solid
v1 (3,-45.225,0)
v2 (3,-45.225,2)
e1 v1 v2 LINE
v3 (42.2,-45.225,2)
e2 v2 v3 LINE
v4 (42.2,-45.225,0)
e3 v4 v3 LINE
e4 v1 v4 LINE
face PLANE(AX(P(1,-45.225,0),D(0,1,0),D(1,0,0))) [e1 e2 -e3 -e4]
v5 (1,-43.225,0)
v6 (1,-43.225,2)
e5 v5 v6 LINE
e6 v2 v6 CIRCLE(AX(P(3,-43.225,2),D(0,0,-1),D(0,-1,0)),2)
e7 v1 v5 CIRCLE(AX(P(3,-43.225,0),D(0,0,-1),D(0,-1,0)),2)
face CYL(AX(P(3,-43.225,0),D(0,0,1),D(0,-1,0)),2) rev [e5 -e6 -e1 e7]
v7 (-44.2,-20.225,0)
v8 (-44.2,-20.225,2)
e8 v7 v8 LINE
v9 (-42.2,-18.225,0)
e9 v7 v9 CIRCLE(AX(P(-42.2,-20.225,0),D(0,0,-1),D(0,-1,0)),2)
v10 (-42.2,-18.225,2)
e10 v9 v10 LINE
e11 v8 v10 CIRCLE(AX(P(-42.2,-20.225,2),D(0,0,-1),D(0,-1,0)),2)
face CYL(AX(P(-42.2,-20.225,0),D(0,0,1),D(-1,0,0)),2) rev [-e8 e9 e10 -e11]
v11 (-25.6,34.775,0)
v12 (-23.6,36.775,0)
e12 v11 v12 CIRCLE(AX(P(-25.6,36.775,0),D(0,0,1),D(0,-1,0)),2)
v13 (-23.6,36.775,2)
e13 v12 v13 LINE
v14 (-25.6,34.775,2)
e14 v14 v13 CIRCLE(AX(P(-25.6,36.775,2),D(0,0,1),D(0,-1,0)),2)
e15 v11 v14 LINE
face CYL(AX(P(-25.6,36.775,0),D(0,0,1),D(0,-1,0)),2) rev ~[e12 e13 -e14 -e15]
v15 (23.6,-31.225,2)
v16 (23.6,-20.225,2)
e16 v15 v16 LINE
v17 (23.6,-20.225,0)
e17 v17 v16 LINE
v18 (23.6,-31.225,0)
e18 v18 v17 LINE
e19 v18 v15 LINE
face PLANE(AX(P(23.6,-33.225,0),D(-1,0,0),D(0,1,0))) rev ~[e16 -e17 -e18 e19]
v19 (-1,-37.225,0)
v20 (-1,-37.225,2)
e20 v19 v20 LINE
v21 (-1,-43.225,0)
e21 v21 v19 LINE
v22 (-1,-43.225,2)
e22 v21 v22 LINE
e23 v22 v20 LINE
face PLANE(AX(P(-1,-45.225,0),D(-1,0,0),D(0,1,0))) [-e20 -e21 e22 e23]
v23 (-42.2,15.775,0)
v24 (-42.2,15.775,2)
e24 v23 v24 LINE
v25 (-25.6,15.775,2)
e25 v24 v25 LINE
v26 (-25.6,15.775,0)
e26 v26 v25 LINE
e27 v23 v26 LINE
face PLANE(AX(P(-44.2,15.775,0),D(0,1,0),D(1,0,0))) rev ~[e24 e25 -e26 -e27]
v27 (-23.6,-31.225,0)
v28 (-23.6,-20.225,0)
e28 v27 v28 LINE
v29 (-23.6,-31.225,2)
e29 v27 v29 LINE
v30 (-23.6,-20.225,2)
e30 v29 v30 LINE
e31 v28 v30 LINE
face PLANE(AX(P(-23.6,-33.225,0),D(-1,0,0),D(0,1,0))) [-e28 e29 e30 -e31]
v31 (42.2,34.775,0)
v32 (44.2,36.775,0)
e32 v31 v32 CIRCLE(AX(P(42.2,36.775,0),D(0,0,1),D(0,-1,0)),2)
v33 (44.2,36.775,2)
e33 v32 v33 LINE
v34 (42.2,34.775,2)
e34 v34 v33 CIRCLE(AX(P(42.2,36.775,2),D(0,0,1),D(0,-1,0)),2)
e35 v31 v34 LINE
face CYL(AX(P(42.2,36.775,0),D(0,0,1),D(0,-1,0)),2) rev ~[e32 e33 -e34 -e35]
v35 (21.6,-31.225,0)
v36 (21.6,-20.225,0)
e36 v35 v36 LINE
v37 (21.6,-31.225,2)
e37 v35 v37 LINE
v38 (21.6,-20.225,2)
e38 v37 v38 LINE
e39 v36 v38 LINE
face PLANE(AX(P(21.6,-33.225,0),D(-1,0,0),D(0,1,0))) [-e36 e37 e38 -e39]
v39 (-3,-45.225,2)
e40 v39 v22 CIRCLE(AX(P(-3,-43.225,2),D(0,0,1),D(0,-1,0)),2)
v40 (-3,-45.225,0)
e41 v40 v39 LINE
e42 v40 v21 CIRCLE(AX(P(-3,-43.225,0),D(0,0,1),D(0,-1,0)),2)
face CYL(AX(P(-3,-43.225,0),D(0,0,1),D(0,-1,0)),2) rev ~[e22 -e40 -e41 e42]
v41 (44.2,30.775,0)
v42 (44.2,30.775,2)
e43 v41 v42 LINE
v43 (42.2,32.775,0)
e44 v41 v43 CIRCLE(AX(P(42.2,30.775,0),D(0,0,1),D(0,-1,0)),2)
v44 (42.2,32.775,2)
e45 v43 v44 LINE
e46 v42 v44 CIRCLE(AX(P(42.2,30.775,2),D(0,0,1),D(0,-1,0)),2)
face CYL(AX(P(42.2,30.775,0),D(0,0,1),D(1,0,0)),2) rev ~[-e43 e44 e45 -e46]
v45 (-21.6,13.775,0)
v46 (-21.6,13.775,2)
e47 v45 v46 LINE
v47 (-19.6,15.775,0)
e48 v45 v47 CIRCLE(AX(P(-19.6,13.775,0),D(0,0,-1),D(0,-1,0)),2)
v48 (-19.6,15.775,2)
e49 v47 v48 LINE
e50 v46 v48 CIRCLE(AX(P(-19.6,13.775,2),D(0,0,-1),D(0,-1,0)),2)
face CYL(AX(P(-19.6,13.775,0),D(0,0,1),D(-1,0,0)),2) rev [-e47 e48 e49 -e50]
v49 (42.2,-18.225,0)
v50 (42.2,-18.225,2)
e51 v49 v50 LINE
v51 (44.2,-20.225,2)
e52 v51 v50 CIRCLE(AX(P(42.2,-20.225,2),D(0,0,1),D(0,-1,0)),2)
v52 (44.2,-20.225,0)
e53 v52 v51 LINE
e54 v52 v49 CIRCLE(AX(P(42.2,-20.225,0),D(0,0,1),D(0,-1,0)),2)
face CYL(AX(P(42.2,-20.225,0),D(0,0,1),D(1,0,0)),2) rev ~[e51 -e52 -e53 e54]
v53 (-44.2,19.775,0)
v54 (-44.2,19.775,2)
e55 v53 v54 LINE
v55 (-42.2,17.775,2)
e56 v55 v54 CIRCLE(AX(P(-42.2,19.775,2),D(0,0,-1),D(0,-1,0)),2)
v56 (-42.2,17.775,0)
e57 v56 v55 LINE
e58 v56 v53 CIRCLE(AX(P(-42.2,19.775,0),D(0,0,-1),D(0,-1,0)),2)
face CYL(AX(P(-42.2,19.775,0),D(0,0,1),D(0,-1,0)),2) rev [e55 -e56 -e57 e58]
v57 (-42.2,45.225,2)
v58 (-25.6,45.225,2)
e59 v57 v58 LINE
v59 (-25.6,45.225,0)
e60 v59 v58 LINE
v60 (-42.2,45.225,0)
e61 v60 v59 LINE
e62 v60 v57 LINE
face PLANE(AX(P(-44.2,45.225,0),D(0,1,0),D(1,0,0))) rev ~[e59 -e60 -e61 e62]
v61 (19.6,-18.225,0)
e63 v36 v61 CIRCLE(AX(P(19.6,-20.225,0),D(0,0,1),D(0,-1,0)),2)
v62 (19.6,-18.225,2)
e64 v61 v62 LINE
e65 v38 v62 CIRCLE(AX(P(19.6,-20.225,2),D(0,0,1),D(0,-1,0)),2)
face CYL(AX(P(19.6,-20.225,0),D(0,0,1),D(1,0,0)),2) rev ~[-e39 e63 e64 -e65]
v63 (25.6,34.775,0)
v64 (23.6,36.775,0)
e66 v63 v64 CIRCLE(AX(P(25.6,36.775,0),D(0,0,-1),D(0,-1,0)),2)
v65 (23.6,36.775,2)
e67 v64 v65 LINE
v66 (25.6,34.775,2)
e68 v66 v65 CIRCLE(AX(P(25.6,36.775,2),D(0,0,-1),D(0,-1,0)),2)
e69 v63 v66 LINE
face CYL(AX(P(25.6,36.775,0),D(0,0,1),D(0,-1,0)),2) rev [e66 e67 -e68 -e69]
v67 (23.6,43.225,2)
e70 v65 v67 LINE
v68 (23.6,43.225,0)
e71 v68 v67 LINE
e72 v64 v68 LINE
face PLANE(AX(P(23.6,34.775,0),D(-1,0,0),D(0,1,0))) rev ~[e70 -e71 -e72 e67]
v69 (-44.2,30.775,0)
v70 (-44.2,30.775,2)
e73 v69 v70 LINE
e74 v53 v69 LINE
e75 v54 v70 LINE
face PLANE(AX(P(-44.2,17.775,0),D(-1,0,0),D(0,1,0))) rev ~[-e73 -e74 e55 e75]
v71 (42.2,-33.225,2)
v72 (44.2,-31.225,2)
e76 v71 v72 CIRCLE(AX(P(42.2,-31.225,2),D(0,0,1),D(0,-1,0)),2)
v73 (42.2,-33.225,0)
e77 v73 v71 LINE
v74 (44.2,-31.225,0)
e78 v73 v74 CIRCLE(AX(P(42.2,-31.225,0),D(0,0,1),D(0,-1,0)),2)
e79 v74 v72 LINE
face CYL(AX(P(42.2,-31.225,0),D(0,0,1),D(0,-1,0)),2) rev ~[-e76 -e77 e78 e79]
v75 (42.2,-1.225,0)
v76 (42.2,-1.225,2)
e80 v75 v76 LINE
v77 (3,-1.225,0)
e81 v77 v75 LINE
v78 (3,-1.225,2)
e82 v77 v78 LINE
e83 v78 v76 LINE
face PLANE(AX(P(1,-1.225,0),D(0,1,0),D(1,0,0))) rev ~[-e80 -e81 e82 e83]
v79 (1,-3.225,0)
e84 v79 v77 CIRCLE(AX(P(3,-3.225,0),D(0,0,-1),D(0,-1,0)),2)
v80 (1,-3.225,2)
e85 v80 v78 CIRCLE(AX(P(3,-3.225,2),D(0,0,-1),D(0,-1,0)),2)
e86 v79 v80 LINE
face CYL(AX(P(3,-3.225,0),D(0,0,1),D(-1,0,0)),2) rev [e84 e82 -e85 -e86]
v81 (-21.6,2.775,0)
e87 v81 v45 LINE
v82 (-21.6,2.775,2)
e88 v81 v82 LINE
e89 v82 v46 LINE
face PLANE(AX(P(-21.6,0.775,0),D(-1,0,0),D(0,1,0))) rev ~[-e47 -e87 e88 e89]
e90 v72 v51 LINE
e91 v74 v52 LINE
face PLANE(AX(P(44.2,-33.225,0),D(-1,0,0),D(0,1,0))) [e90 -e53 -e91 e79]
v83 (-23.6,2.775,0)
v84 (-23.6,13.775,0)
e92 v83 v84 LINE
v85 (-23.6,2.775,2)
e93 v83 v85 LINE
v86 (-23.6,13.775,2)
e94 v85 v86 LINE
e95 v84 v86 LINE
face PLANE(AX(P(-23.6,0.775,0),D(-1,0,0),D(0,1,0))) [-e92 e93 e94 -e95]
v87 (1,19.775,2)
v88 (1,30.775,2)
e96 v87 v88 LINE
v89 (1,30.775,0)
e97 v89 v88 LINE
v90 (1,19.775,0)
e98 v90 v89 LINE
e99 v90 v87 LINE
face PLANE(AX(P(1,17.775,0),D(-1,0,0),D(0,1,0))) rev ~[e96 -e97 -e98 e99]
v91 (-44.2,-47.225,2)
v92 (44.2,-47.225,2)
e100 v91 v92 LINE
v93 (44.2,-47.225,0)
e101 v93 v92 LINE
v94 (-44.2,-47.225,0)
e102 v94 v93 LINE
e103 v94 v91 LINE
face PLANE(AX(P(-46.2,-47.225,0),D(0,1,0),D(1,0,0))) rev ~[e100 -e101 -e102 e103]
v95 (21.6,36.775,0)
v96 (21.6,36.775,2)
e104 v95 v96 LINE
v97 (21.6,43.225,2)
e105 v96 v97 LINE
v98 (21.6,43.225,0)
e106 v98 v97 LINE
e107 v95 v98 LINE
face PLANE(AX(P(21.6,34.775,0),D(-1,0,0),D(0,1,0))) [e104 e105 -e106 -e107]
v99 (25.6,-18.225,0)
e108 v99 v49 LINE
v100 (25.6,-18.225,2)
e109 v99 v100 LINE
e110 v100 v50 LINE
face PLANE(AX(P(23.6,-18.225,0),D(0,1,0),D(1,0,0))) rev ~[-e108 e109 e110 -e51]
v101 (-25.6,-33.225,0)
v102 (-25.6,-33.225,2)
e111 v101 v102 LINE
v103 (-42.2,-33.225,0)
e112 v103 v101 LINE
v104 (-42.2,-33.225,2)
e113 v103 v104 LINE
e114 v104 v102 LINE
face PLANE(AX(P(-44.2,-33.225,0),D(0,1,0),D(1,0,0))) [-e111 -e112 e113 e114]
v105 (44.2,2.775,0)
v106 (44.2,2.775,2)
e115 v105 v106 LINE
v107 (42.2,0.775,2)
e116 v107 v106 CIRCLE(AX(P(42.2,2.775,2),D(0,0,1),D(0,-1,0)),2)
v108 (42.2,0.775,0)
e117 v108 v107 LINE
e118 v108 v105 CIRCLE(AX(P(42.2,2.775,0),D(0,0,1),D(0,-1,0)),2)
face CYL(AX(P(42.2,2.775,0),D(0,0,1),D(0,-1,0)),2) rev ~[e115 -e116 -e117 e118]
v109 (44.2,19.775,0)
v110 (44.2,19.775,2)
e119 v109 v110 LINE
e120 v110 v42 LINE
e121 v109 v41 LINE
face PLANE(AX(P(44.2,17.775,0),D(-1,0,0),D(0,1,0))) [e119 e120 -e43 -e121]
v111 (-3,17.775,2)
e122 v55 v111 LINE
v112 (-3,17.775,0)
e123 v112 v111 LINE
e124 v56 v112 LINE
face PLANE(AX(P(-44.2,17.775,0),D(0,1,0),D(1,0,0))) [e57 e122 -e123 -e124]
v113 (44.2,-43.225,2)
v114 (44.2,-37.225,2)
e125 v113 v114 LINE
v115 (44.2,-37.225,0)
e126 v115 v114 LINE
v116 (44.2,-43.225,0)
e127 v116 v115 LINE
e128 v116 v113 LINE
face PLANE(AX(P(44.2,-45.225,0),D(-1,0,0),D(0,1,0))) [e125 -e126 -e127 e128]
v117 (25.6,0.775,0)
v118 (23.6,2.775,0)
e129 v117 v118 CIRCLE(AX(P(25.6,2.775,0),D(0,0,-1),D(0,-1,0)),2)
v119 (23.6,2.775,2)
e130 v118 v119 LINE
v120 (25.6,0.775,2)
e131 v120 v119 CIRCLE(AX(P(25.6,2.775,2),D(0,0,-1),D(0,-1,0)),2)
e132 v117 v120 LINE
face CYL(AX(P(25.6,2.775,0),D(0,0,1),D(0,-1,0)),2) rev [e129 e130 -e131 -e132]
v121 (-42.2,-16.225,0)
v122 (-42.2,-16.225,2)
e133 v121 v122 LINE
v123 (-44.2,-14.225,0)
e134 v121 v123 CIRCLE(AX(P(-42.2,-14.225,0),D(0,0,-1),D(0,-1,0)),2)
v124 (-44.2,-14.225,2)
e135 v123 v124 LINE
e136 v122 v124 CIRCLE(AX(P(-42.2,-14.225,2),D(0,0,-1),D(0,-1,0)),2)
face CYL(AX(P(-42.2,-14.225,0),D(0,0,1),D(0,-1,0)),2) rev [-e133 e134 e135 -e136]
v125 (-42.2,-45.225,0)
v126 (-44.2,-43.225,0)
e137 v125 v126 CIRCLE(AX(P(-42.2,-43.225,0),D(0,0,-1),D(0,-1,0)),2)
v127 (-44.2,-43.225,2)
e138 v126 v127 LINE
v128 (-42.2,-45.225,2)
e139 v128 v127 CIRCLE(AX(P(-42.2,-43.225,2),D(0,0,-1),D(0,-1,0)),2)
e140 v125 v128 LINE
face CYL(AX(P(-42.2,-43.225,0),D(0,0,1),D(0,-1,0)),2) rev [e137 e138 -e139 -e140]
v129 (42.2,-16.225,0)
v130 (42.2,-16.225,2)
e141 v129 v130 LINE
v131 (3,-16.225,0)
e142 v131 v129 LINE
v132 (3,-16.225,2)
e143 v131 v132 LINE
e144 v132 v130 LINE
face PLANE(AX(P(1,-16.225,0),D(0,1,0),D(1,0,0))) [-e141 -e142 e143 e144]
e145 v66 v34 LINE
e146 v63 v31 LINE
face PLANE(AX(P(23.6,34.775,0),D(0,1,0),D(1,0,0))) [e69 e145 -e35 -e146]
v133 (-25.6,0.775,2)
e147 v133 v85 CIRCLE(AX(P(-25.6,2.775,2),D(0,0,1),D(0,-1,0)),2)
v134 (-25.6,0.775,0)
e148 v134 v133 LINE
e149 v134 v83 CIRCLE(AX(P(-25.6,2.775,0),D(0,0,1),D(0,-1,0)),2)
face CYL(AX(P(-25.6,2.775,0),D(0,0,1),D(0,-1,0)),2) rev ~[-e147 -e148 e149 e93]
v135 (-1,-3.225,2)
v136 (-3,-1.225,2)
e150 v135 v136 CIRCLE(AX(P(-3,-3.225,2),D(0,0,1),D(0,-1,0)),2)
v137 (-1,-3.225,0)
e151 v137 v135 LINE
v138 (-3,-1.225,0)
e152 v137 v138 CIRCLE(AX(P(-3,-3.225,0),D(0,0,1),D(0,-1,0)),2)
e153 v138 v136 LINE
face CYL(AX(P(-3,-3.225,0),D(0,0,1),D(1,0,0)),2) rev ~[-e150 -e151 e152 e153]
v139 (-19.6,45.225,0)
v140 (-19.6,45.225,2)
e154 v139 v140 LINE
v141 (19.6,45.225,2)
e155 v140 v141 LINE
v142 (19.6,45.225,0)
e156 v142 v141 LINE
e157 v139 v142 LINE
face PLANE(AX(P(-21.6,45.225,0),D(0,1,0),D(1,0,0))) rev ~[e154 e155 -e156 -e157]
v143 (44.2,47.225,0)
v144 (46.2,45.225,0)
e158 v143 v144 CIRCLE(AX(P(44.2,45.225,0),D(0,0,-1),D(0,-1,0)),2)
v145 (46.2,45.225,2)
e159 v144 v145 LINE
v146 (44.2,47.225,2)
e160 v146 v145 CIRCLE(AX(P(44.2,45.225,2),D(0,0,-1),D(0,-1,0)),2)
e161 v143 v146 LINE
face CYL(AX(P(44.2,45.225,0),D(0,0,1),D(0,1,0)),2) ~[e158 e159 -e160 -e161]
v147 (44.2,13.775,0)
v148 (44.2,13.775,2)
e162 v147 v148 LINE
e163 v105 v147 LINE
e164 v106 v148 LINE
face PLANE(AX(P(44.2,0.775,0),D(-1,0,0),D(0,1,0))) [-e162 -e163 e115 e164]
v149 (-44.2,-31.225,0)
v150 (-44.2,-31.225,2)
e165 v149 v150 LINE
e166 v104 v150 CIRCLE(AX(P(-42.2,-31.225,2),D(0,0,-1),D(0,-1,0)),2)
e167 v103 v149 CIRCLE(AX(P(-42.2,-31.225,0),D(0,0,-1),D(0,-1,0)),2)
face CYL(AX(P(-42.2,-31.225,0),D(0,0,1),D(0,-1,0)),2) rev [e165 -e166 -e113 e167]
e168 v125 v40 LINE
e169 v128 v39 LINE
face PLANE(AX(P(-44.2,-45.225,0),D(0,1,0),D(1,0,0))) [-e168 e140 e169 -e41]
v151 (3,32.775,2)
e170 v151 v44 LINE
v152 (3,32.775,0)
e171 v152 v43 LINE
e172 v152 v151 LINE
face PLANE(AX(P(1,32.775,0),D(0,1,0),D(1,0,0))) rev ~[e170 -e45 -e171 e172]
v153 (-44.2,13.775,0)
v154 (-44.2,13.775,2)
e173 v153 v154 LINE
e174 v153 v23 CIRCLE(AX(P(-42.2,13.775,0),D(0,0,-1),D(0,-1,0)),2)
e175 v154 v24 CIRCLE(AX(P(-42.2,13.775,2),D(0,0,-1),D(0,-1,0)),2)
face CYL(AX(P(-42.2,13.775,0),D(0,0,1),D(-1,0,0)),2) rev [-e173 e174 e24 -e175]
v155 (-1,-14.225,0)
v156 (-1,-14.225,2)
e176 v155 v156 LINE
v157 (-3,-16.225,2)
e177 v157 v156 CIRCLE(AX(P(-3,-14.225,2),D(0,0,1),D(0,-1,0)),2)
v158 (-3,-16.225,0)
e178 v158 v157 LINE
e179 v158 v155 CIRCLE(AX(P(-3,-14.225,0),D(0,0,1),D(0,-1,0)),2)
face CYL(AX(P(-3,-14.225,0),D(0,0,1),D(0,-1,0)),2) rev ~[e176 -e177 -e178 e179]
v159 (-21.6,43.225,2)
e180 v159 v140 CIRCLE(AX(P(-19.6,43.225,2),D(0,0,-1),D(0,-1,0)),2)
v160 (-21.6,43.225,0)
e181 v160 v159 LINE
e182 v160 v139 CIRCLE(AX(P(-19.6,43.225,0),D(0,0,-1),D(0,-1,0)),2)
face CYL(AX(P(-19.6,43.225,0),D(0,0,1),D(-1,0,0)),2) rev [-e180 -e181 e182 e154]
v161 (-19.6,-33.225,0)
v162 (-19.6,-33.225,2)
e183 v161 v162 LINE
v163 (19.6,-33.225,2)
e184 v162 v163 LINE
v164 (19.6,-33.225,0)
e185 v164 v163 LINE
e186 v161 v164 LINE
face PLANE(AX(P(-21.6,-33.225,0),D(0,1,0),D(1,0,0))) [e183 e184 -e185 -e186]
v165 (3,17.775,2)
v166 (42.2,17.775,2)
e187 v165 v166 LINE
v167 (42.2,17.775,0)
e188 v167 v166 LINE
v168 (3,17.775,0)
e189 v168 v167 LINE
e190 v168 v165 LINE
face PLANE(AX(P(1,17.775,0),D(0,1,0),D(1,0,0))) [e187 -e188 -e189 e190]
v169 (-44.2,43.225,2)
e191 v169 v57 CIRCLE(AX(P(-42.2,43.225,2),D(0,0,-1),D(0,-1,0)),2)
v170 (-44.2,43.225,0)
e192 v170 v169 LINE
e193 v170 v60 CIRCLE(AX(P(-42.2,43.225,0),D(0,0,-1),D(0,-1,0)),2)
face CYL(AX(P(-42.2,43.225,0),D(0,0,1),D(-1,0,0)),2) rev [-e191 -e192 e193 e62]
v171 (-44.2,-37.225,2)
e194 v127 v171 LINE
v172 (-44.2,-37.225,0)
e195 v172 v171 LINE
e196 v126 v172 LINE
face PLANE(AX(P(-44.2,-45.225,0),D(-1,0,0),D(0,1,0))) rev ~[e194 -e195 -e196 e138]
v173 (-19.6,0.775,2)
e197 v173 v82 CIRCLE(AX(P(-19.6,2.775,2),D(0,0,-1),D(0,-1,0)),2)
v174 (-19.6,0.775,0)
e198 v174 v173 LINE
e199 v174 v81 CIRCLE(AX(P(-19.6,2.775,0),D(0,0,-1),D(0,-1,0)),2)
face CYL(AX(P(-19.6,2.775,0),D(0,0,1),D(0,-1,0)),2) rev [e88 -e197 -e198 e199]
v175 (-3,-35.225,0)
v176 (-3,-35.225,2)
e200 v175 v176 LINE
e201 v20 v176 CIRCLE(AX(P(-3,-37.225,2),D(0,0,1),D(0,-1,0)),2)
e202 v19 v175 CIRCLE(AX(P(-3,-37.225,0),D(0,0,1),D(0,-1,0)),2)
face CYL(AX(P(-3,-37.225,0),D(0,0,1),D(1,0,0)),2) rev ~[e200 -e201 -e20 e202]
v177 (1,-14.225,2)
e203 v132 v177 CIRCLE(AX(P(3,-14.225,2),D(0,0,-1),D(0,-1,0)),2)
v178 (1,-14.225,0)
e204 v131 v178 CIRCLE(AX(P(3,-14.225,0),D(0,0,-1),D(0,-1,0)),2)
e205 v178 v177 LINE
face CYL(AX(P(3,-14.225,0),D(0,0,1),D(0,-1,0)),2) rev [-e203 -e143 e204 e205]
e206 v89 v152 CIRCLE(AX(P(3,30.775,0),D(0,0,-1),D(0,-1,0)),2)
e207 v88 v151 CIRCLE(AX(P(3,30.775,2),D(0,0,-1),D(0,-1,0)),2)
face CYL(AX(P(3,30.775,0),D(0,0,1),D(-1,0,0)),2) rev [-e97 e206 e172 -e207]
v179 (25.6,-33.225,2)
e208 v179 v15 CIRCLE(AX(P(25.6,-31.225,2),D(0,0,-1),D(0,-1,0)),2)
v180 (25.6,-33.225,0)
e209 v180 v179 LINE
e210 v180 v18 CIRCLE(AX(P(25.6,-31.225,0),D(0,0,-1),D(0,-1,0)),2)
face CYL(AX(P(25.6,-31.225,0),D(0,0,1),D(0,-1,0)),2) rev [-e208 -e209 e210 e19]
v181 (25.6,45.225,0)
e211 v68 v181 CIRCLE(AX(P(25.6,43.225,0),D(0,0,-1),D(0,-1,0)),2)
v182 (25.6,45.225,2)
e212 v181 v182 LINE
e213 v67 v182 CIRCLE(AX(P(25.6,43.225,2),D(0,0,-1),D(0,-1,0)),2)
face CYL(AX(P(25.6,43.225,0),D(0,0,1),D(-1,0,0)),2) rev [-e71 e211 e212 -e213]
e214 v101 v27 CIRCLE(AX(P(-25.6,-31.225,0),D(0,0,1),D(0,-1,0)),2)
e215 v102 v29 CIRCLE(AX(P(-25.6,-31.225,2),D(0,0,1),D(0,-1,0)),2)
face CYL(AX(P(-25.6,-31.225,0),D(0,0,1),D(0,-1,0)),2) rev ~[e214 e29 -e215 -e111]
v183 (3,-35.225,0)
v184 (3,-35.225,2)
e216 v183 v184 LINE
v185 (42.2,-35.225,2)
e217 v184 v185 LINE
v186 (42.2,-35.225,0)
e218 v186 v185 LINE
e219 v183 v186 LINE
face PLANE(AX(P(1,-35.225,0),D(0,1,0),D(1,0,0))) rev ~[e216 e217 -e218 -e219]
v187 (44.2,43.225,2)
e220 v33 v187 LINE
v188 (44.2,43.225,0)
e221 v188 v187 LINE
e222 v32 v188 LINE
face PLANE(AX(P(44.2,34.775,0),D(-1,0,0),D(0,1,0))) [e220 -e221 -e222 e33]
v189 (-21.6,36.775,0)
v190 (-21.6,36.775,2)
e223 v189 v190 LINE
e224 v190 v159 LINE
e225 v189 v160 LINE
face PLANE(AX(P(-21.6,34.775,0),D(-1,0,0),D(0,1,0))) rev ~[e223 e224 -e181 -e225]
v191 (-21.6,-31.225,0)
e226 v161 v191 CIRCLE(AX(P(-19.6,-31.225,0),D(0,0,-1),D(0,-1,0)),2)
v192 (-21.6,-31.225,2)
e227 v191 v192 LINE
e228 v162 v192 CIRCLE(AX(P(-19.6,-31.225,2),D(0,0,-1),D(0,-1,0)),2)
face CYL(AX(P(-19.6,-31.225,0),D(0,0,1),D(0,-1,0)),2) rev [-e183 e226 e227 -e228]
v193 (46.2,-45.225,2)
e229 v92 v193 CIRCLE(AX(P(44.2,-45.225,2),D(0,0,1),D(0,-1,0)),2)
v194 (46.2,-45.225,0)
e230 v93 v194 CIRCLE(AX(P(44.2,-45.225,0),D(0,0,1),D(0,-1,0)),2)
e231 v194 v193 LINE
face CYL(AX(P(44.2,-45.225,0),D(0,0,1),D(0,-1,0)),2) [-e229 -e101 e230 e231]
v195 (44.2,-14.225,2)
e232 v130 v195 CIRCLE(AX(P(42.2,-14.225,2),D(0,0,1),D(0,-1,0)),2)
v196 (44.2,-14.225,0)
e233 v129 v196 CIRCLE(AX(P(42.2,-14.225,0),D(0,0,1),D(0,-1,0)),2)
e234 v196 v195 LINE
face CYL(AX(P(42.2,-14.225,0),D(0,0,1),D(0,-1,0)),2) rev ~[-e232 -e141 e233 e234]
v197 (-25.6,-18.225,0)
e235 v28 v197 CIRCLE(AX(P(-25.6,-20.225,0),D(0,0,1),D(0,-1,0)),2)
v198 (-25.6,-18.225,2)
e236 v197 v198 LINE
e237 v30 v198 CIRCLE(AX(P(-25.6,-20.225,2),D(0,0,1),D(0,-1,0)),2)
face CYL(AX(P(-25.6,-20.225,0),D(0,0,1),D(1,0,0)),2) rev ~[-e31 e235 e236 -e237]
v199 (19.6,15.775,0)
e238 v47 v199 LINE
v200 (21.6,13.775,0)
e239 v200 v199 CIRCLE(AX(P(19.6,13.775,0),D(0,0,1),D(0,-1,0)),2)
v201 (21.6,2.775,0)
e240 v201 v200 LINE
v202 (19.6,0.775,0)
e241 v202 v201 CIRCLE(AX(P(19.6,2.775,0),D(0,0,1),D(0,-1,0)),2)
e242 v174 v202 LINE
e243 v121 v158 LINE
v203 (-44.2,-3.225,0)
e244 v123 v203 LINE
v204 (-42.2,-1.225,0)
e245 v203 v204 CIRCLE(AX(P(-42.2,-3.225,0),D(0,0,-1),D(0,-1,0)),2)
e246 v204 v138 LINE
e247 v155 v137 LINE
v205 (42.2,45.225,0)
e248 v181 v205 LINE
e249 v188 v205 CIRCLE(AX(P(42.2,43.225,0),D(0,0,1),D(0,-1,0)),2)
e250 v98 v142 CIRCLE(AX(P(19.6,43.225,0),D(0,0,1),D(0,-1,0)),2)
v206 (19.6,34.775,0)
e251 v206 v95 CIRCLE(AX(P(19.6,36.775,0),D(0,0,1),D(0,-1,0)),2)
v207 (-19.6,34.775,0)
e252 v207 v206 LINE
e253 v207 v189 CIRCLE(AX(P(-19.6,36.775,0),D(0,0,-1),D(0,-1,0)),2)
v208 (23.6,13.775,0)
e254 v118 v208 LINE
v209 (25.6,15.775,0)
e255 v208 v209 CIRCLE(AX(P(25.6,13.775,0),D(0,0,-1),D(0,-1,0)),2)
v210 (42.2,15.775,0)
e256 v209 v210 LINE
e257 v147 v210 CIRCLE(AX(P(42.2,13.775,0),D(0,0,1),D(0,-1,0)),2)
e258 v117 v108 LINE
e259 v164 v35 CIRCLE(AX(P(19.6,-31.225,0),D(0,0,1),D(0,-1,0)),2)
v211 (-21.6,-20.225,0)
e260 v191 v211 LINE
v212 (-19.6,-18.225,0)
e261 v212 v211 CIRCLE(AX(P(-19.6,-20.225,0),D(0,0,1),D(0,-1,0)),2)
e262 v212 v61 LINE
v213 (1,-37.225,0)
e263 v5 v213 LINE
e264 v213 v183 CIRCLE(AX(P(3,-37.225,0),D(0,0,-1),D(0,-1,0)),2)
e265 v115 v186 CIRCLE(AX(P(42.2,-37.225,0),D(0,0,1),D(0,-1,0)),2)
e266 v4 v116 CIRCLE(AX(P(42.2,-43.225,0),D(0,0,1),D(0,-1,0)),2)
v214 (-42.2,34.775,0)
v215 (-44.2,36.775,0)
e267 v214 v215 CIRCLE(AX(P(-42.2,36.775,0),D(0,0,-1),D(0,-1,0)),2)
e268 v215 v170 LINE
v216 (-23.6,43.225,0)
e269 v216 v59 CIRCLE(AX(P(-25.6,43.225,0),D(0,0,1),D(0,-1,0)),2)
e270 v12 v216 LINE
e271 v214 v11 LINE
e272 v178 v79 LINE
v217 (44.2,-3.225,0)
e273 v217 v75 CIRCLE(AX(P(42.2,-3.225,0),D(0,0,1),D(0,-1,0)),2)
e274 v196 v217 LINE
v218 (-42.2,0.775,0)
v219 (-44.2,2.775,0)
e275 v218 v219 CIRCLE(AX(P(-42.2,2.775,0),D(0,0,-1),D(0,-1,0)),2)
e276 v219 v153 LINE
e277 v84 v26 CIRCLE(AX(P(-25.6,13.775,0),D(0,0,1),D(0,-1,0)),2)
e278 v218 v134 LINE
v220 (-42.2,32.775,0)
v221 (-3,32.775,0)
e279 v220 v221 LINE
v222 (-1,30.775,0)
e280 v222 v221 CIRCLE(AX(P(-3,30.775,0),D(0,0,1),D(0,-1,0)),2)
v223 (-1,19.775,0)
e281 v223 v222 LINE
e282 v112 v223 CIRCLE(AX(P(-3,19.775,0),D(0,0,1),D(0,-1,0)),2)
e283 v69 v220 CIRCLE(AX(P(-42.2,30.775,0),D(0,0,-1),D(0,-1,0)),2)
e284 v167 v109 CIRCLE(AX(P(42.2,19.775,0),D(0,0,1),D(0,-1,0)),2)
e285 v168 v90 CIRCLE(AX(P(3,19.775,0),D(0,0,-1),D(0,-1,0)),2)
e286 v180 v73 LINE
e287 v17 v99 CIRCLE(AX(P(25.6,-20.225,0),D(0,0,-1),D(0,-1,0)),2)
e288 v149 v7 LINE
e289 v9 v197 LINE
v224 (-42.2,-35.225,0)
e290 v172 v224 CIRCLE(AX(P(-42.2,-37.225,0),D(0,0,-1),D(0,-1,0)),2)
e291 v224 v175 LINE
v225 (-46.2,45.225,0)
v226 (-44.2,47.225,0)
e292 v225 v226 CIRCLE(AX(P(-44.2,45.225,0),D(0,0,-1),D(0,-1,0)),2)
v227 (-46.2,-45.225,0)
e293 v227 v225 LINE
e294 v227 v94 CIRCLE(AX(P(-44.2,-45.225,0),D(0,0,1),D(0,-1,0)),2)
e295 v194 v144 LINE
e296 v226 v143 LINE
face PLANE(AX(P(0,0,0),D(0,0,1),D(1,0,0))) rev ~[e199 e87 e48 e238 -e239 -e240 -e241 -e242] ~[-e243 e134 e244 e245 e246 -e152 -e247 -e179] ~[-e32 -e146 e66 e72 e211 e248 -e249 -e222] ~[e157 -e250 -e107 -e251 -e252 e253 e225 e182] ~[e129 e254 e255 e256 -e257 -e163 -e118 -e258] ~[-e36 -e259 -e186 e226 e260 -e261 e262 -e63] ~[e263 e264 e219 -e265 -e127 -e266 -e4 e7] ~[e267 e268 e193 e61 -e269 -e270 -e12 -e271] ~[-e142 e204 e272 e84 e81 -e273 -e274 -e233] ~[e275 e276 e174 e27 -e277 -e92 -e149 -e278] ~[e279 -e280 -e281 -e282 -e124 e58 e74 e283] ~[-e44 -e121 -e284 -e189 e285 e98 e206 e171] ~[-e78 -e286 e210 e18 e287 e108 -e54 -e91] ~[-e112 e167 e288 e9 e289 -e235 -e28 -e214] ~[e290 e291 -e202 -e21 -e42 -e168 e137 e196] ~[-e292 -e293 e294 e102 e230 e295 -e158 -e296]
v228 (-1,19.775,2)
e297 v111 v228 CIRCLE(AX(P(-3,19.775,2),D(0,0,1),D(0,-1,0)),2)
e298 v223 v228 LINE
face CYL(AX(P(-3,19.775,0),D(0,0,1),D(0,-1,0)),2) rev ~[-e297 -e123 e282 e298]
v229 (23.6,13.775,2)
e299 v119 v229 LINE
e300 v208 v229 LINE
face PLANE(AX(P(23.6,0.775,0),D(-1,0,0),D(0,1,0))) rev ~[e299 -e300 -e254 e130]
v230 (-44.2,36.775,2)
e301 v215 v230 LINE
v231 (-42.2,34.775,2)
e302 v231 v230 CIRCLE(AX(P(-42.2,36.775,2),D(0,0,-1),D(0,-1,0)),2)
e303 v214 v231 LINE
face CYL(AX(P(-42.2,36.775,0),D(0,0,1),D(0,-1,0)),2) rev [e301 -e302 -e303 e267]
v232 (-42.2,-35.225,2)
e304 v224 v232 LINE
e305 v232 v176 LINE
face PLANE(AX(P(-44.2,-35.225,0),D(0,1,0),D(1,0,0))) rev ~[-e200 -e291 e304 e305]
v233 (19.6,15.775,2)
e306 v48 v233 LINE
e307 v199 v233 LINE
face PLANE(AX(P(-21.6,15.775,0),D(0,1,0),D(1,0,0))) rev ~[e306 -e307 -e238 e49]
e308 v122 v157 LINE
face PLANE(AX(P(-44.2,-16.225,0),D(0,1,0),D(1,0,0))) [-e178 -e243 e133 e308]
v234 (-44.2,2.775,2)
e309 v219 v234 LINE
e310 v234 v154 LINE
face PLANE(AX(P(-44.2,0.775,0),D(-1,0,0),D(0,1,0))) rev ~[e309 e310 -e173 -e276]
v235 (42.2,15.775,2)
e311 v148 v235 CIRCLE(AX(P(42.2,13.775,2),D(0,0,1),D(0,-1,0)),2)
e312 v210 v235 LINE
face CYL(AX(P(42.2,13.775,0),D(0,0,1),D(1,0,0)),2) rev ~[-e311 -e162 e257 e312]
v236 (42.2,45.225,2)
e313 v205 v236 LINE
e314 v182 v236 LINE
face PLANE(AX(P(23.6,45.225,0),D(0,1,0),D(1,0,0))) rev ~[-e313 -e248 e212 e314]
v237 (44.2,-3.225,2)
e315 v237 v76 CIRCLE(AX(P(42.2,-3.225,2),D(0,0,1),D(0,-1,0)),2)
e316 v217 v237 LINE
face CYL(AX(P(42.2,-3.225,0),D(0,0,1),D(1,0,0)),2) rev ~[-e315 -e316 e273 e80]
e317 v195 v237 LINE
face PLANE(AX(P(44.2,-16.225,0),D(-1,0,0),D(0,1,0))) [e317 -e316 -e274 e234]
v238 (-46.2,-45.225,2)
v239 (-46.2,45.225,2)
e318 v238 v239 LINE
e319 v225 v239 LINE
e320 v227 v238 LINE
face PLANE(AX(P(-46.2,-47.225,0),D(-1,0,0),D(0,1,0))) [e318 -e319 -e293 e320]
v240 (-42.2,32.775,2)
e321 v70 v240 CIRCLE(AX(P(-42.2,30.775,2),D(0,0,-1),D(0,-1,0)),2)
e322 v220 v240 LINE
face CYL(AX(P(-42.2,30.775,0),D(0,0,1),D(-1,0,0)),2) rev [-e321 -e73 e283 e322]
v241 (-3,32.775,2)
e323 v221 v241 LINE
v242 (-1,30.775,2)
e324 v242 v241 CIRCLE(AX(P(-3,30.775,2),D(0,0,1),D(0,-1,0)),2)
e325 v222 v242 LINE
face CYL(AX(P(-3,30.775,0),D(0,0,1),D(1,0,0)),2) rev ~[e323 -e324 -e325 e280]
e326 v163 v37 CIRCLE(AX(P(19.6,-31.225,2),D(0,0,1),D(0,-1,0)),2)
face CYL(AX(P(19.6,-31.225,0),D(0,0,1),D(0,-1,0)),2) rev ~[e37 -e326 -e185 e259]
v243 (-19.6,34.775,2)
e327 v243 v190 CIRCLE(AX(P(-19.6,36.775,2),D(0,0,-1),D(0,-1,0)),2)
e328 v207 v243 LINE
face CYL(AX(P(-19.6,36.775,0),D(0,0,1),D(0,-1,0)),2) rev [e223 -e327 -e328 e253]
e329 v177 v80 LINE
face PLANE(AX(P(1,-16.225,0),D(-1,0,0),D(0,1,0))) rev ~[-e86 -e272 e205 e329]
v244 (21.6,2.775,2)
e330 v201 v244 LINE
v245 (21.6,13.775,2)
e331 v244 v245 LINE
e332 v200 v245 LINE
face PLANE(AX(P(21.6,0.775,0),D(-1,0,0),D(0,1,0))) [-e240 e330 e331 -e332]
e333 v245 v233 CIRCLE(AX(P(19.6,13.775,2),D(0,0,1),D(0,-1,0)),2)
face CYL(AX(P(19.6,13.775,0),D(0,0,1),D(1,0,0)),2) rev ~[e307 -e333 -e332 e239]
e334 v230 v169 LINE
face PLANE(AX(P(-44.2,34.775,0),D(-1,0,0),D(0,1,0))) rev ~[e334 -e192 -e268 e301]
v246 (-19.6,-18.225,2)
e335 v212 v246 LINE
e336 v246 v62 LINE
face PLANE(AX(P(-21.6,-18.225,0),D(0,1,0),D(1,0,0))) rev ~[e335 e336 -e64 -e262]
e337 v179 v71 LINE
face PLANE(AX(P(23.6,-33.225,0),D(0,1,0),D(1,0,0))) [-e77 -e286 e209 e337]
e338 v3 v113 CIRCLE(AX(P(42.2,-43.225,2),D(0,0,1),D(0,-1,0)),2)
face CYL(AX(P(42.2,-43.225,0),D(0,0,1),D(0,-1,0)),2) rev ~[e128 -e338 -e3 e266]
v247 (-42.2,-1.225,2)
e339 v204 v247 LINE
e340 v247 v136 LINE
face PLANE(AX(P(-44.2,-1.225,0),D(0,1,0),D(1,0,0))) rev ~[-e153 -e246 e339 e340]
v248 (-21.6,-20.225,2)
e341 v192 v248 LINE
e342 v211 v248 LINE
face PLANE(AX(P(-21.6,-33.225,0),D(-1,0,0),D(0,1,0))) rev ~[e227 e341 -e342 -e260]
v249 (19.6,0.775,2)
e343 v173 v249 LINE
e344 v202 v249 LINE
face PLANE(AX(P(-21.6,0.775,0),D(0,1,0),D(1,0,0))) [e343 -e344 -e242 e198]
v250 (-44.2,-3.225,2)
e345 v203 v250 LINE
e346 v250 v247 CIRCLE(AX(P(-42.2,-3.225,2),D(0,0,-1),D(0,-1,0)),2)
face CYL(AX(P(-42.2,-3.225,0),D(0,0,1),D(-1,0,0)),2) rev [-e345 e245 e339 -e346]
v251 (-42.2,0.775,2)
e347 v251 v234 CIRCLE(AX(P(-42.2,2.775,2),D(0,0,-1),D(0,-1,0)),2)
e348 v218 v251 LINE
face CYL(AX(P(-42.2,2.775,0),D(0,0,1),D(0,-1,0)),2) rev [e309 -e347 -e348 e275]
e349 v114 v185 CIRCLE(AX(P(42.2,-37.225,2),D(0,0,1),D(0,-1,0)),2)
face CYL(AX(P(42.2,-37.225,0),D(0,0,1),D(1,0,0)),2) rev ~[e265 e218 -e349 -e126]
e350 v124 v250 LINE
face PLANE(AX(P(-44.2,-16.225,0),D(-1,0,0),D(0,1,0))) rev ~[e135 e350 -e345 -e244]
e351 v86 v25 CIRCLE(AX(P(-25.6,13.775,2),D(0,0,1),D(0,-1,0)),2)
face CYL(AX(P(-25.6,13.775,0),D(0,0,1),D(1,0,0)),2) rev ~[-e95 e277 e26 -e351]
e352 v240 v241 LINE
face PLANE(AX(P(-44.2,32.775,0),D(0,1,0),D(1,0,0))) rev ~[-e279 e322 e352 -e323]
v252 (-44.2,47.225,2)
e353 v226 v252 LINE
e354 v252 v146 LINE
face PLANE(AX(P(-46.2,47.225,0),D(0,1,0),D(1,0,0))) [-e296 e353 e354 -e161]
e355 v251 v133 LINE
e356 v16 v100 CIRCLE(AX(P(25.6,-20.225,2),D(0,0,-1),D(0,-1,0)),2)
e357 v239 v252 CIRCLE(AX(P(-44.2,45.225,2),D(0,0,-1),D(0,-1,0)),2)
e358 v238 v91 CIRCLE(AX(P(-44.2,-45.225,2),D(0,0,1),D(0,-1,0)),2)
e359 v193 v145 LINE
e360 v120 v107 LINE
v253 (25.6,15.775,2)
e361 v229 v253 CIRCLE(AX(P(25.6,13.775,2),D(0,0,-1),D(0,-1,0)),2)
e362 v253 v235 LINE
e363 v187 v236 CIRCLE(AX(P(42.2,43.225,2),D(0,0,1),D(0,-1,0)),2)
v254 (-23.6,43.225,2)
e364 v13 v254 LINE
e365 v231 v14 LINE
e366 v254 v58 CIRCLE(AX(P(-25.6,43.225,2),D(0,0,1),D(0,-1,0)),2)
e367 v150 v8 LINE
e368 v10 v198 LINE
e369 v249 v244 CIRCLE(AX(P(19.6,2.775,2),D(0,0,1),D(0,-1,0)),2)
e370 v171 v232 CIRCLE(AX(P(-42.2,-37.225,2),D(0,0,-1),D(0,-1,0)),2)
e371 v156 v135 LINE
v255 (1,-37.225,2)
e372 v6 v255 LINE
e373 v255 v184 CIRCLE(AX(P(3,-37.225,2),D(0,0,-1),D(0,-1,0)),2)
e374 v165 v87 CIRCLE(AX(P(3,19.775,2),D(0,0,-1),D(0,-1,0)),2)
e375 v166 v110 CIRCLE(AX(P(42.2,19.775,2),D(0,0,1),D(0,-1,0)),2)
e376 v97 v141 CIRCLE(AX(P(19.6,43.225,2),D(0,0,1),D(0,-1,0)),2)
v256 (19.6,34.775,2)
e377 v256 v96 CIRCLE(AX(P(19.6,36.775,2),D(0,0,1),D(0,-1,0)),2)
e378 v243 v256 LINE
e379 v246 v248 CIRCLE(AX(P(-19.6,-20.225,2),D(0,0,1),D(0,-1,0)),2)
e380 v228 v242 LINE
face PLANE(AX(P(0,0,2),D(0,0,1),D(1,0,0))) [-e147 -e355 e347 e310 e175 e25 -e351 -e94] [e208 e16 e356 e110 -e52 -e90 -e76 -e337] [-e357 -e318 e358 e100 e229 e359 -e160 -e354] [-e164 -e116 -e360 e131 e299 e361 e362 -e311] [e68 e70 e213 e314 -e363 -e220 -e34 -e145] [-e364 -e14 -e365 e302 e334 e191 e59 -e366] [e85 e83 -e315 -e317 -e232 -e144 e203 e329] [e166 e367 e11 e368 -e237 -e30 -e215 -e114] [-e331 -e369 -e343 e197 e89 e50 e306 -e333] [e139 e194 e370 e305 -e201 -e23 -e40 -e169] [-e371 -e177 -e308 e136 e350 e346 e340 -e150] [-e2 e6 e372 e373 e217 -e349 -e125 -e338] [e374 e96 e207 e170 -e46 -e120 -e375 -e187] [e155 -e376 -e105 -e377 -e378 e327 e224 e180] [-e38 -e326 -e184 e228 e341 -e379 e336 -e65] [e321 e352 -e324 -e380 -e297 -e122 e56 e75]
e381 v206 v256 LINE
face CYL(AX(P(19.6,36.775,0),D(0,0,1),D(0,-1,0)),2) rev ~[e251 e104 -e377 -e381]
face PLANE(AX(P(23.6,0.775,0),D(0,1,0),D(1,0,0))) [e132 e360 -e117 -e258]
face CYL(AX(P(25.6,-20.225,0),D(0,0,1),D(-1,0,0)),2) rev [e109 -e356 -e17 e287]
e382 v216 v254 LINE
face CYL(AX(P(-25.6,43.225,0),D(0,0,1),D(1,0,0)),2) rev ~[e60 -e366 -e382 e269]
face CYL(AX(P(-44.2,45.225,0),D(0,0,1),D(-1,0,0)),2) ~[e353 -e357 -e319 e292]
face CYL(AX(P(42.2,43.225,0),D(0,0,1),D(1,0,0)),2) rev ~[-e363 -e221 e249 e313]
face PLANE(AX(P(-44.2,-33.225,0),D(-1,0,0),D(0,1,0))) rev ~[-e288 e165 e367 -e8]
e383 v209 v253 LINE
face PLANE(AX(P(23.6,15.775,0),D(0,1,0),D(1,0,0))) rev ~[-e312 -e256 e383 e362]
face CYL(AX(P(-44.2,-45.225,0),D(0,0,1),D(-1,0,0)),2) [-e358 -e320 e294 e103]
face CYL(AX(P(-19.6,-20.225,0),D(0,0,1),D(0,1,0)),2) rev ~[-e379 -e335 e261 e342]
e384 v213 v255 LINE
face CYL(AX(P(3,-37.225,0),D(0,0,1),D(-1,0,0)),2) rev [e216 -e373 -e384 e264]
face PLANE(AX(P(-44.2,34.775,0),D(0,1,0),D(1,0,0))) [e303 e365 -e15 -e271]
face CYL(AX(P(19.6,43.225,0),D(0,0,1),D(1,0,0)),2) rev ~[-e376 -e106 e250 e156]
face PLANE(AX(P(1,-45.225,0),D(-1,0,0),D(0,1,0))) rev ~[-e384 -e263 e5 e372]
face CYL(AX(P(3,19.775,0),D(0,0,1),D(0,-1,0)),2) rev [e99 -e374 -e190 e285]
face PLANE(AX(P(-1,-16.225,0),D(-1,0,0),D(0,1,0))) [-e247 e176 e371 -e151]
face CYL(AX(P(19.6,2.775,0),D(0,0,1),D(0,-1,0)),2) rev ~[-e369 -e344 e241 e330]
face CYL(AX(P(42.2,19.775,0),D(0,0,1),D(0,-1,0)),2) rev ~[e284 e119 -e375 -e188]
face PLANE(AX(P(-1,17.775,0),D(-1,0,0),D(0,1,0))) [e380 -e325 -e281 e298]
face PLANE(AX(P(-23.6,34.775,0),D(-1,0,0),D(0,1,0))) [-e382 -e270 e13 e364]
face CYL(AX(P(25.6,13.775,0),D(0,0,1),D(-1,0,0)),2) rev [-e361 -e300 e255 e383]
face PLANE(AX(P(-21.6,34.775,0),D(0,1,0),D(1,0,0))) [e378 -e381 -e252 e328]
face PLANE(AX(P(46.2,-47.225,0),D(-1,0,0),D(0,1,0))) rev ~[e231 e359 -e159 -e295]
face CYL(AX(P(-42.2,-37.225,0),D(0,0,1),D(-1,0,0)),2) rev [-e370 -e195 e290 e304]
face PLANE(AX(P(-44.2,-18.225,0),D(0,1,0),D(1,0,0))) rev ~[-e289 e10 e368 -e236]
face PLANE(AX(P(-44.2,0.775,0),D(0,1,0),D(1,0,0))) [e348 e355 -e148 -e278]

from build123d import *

# Parameters (mm, degrees)
IZIM1_W                     = 92.4
IZIM1_H                     = 94.45
IZIM1_W_2                   = 20.6
IZIM1_H_2                   = 10.45
IZIM1_W_3                   = 43.2
IZIM1_H_3                   = 10
IZIM1_H_4                   = 15
Y_KSEKLIK_EKSTR_ZYON1_DEPTH = 2
RADYUS1_R                   = 2


with BuildPart() as part:
    # Çizim1 → Yükseklik-Ekstrüzyon1 (new body)
    with BuildSketch(Plane.XY):
        Rectangle(IZIM1_W, IZIM1_H)
        with Locations((-33.9, 40)):
            Rectangle(IZIM1_W_2, IZIM1_H_2, mode=Mode.SUBTRACT)
        with Locations((-22.6, -40.225)):
            Rectangle(IZIM1_W_3, IZIM1_H_3, mode=Mode.SUBTRACT)
        with Locations((22.6, -40.225)):
            Rectangle(IZIM1_W_3, IZIM1_H_3, mode=Mode.SUBTRACT)
        with Locations((-33.9, -25.725)):
            Rectangle(IZIM1_W_2, IZIM1_H_4, mode=Mode.SUBTRACT)
        with Locations((-22.6, -8.725)):
            Rectangle(IZIM1_W_3, IZIM1_H_4, mode=Mode.SUBTRACT)
        with Locations((-33.9, 8.275)):
            Rectangle(IZIM1_W_2, IZIM1_H_4, mode=Mode.SUBTRACT)
        with Locations((-22.6, 25.275)):
            Rectangle(IZIM1_W_3, IZIM1_H_4, mode=Mode.SUBTRACT)
        with Locations((33.9, -25.725)):
            Rectangle(IZIM1_W_2, IZIM1_H_4, mode=Mode.SUBTRACT)
        with Locations((22.6, -8.725)):
            Rectangle(IZIM1_W_3, IZIM1_H_4, mode=Mode.SUBTRACT)
        with Locations((33.9, 8.275)):
            Rectangle(IZIM1_W_2, IZIM1_H_4, mode=Mode.SUBTRACT)
        with Locations((22.6, 25.275)):
            Rectangle(IZIM1_W_3, IZIM1_H_4, mode=Mode.SUBTRACT)
        with Locations((33.9, 40)):
            Rectangle(IZIM1_W_2, IZIM1_H_2, mode=Mode.SUBTRACT)
        with Locations((0, 40)):
            Rectangle(IZIM1_W_3, IZIM1_H_2, mode=Mode.SUBTRACT)
        with Locations((0, 8.275)):
            Rectangle(IZIM1_W_3, IZIM1_H_4, mode=Mode.SUBTRACT)
        with Locations((0, -25.725)):
            Rectangle(IZIM1_W_3, IZIM1_H_4, mode=Mode.SUBTRACT)
    extrude(amount=Y_KSEKLIK_EKSTR_ZYON1_DEPTH)

    # Radyus1
    radyus1_edges = [part.edges().sort_by_distance(p)[0] for p in [
        (1, -16.225, 1),
        (44.2, -16.225, 1),
        (44.2, -1.225, 1),
        (1, -1.225, 1),
        (-44.2, 15.775, 1),
        (-44.2, 0.775, 1),
        (-23.6, 0.775, 1),
        (-23.6, 15.775, 1),
        (23.6, 0.775, 1),
        (44.2, 0.775, 1),
        (44.2, 15.775, 1),
        (23.6, 15.775, 1),
        (-44.2, 32.775, 1),
        (-44.2, 17.775, 1),
        (-1, 17.775, 1),
        (-1, 32.775, 1),
        (44.2, 45.225, 1),
        (1, 17.775, 1),
        (44.2, 17.775, 1),
        (44.2, 32.775, 1),
        (1, 32.775, 1),
        (23.6, 45.225, 1),
        (23.6, 34.775, 1),
        (44.2, 34.775, 1),
        (-21.6, 34.775, 1),
        (21.6, 34.775, 1),
        (21.6, 45.225, 1),
        (-21.6, 45.225, 1),
        (-21.6, 0.775, 1),
        (21.6, 0.775, 1),
        (21.6, 15.775, 1),
        (-21.6, 15.775, 1),
        (21.6, -18.225, 1),
        (-21.6, -18.225, 1),
        (-21.6, -33.225, 1),
        (21.6, -33.225, 1),
        (-44.2, -35.225, 1),
        (-44.2, -45.225, 1),
        (-1, -45.225, 1),
        (-1, -35.225, 1),
        (-23.6, 45.225, 1),
        (-44.2, 45.225, 1),
        (-44.2, 34.775, 1),
        (-23.6, 34.775, 1),
        (1, -45.225, 1),
        (44.2, -45.225, 1),
        (44.2, -35.225, 1),
        (1, -35.225, 1),
        (-44.2, -18.225, 1),
        (-44.2, -33.225, 1),
        (-23.6, -33.225, 1),
        (-23.6, -18.225, 1),
        (46.2, -47.225, 1),
        (-46.2, -47.225, 1),
        (23.6, -33.225, 1),
        (-46.2, 47.225, 1),
        (44.2, -33.225, 1),
        (44.2, -18.225, 1),
        (23.6, -18.225, 1),
        (46.2, 47.225, 1),
        (-44.2, -1.225, 1),
        (-44.2, -16.225, 1),
        (-1, -16.225, 1),
        (-1, -1.225, 1),
    ]]
    fillet(radyus1_edges, radius=RADYUS1_R)


solid = part.part
